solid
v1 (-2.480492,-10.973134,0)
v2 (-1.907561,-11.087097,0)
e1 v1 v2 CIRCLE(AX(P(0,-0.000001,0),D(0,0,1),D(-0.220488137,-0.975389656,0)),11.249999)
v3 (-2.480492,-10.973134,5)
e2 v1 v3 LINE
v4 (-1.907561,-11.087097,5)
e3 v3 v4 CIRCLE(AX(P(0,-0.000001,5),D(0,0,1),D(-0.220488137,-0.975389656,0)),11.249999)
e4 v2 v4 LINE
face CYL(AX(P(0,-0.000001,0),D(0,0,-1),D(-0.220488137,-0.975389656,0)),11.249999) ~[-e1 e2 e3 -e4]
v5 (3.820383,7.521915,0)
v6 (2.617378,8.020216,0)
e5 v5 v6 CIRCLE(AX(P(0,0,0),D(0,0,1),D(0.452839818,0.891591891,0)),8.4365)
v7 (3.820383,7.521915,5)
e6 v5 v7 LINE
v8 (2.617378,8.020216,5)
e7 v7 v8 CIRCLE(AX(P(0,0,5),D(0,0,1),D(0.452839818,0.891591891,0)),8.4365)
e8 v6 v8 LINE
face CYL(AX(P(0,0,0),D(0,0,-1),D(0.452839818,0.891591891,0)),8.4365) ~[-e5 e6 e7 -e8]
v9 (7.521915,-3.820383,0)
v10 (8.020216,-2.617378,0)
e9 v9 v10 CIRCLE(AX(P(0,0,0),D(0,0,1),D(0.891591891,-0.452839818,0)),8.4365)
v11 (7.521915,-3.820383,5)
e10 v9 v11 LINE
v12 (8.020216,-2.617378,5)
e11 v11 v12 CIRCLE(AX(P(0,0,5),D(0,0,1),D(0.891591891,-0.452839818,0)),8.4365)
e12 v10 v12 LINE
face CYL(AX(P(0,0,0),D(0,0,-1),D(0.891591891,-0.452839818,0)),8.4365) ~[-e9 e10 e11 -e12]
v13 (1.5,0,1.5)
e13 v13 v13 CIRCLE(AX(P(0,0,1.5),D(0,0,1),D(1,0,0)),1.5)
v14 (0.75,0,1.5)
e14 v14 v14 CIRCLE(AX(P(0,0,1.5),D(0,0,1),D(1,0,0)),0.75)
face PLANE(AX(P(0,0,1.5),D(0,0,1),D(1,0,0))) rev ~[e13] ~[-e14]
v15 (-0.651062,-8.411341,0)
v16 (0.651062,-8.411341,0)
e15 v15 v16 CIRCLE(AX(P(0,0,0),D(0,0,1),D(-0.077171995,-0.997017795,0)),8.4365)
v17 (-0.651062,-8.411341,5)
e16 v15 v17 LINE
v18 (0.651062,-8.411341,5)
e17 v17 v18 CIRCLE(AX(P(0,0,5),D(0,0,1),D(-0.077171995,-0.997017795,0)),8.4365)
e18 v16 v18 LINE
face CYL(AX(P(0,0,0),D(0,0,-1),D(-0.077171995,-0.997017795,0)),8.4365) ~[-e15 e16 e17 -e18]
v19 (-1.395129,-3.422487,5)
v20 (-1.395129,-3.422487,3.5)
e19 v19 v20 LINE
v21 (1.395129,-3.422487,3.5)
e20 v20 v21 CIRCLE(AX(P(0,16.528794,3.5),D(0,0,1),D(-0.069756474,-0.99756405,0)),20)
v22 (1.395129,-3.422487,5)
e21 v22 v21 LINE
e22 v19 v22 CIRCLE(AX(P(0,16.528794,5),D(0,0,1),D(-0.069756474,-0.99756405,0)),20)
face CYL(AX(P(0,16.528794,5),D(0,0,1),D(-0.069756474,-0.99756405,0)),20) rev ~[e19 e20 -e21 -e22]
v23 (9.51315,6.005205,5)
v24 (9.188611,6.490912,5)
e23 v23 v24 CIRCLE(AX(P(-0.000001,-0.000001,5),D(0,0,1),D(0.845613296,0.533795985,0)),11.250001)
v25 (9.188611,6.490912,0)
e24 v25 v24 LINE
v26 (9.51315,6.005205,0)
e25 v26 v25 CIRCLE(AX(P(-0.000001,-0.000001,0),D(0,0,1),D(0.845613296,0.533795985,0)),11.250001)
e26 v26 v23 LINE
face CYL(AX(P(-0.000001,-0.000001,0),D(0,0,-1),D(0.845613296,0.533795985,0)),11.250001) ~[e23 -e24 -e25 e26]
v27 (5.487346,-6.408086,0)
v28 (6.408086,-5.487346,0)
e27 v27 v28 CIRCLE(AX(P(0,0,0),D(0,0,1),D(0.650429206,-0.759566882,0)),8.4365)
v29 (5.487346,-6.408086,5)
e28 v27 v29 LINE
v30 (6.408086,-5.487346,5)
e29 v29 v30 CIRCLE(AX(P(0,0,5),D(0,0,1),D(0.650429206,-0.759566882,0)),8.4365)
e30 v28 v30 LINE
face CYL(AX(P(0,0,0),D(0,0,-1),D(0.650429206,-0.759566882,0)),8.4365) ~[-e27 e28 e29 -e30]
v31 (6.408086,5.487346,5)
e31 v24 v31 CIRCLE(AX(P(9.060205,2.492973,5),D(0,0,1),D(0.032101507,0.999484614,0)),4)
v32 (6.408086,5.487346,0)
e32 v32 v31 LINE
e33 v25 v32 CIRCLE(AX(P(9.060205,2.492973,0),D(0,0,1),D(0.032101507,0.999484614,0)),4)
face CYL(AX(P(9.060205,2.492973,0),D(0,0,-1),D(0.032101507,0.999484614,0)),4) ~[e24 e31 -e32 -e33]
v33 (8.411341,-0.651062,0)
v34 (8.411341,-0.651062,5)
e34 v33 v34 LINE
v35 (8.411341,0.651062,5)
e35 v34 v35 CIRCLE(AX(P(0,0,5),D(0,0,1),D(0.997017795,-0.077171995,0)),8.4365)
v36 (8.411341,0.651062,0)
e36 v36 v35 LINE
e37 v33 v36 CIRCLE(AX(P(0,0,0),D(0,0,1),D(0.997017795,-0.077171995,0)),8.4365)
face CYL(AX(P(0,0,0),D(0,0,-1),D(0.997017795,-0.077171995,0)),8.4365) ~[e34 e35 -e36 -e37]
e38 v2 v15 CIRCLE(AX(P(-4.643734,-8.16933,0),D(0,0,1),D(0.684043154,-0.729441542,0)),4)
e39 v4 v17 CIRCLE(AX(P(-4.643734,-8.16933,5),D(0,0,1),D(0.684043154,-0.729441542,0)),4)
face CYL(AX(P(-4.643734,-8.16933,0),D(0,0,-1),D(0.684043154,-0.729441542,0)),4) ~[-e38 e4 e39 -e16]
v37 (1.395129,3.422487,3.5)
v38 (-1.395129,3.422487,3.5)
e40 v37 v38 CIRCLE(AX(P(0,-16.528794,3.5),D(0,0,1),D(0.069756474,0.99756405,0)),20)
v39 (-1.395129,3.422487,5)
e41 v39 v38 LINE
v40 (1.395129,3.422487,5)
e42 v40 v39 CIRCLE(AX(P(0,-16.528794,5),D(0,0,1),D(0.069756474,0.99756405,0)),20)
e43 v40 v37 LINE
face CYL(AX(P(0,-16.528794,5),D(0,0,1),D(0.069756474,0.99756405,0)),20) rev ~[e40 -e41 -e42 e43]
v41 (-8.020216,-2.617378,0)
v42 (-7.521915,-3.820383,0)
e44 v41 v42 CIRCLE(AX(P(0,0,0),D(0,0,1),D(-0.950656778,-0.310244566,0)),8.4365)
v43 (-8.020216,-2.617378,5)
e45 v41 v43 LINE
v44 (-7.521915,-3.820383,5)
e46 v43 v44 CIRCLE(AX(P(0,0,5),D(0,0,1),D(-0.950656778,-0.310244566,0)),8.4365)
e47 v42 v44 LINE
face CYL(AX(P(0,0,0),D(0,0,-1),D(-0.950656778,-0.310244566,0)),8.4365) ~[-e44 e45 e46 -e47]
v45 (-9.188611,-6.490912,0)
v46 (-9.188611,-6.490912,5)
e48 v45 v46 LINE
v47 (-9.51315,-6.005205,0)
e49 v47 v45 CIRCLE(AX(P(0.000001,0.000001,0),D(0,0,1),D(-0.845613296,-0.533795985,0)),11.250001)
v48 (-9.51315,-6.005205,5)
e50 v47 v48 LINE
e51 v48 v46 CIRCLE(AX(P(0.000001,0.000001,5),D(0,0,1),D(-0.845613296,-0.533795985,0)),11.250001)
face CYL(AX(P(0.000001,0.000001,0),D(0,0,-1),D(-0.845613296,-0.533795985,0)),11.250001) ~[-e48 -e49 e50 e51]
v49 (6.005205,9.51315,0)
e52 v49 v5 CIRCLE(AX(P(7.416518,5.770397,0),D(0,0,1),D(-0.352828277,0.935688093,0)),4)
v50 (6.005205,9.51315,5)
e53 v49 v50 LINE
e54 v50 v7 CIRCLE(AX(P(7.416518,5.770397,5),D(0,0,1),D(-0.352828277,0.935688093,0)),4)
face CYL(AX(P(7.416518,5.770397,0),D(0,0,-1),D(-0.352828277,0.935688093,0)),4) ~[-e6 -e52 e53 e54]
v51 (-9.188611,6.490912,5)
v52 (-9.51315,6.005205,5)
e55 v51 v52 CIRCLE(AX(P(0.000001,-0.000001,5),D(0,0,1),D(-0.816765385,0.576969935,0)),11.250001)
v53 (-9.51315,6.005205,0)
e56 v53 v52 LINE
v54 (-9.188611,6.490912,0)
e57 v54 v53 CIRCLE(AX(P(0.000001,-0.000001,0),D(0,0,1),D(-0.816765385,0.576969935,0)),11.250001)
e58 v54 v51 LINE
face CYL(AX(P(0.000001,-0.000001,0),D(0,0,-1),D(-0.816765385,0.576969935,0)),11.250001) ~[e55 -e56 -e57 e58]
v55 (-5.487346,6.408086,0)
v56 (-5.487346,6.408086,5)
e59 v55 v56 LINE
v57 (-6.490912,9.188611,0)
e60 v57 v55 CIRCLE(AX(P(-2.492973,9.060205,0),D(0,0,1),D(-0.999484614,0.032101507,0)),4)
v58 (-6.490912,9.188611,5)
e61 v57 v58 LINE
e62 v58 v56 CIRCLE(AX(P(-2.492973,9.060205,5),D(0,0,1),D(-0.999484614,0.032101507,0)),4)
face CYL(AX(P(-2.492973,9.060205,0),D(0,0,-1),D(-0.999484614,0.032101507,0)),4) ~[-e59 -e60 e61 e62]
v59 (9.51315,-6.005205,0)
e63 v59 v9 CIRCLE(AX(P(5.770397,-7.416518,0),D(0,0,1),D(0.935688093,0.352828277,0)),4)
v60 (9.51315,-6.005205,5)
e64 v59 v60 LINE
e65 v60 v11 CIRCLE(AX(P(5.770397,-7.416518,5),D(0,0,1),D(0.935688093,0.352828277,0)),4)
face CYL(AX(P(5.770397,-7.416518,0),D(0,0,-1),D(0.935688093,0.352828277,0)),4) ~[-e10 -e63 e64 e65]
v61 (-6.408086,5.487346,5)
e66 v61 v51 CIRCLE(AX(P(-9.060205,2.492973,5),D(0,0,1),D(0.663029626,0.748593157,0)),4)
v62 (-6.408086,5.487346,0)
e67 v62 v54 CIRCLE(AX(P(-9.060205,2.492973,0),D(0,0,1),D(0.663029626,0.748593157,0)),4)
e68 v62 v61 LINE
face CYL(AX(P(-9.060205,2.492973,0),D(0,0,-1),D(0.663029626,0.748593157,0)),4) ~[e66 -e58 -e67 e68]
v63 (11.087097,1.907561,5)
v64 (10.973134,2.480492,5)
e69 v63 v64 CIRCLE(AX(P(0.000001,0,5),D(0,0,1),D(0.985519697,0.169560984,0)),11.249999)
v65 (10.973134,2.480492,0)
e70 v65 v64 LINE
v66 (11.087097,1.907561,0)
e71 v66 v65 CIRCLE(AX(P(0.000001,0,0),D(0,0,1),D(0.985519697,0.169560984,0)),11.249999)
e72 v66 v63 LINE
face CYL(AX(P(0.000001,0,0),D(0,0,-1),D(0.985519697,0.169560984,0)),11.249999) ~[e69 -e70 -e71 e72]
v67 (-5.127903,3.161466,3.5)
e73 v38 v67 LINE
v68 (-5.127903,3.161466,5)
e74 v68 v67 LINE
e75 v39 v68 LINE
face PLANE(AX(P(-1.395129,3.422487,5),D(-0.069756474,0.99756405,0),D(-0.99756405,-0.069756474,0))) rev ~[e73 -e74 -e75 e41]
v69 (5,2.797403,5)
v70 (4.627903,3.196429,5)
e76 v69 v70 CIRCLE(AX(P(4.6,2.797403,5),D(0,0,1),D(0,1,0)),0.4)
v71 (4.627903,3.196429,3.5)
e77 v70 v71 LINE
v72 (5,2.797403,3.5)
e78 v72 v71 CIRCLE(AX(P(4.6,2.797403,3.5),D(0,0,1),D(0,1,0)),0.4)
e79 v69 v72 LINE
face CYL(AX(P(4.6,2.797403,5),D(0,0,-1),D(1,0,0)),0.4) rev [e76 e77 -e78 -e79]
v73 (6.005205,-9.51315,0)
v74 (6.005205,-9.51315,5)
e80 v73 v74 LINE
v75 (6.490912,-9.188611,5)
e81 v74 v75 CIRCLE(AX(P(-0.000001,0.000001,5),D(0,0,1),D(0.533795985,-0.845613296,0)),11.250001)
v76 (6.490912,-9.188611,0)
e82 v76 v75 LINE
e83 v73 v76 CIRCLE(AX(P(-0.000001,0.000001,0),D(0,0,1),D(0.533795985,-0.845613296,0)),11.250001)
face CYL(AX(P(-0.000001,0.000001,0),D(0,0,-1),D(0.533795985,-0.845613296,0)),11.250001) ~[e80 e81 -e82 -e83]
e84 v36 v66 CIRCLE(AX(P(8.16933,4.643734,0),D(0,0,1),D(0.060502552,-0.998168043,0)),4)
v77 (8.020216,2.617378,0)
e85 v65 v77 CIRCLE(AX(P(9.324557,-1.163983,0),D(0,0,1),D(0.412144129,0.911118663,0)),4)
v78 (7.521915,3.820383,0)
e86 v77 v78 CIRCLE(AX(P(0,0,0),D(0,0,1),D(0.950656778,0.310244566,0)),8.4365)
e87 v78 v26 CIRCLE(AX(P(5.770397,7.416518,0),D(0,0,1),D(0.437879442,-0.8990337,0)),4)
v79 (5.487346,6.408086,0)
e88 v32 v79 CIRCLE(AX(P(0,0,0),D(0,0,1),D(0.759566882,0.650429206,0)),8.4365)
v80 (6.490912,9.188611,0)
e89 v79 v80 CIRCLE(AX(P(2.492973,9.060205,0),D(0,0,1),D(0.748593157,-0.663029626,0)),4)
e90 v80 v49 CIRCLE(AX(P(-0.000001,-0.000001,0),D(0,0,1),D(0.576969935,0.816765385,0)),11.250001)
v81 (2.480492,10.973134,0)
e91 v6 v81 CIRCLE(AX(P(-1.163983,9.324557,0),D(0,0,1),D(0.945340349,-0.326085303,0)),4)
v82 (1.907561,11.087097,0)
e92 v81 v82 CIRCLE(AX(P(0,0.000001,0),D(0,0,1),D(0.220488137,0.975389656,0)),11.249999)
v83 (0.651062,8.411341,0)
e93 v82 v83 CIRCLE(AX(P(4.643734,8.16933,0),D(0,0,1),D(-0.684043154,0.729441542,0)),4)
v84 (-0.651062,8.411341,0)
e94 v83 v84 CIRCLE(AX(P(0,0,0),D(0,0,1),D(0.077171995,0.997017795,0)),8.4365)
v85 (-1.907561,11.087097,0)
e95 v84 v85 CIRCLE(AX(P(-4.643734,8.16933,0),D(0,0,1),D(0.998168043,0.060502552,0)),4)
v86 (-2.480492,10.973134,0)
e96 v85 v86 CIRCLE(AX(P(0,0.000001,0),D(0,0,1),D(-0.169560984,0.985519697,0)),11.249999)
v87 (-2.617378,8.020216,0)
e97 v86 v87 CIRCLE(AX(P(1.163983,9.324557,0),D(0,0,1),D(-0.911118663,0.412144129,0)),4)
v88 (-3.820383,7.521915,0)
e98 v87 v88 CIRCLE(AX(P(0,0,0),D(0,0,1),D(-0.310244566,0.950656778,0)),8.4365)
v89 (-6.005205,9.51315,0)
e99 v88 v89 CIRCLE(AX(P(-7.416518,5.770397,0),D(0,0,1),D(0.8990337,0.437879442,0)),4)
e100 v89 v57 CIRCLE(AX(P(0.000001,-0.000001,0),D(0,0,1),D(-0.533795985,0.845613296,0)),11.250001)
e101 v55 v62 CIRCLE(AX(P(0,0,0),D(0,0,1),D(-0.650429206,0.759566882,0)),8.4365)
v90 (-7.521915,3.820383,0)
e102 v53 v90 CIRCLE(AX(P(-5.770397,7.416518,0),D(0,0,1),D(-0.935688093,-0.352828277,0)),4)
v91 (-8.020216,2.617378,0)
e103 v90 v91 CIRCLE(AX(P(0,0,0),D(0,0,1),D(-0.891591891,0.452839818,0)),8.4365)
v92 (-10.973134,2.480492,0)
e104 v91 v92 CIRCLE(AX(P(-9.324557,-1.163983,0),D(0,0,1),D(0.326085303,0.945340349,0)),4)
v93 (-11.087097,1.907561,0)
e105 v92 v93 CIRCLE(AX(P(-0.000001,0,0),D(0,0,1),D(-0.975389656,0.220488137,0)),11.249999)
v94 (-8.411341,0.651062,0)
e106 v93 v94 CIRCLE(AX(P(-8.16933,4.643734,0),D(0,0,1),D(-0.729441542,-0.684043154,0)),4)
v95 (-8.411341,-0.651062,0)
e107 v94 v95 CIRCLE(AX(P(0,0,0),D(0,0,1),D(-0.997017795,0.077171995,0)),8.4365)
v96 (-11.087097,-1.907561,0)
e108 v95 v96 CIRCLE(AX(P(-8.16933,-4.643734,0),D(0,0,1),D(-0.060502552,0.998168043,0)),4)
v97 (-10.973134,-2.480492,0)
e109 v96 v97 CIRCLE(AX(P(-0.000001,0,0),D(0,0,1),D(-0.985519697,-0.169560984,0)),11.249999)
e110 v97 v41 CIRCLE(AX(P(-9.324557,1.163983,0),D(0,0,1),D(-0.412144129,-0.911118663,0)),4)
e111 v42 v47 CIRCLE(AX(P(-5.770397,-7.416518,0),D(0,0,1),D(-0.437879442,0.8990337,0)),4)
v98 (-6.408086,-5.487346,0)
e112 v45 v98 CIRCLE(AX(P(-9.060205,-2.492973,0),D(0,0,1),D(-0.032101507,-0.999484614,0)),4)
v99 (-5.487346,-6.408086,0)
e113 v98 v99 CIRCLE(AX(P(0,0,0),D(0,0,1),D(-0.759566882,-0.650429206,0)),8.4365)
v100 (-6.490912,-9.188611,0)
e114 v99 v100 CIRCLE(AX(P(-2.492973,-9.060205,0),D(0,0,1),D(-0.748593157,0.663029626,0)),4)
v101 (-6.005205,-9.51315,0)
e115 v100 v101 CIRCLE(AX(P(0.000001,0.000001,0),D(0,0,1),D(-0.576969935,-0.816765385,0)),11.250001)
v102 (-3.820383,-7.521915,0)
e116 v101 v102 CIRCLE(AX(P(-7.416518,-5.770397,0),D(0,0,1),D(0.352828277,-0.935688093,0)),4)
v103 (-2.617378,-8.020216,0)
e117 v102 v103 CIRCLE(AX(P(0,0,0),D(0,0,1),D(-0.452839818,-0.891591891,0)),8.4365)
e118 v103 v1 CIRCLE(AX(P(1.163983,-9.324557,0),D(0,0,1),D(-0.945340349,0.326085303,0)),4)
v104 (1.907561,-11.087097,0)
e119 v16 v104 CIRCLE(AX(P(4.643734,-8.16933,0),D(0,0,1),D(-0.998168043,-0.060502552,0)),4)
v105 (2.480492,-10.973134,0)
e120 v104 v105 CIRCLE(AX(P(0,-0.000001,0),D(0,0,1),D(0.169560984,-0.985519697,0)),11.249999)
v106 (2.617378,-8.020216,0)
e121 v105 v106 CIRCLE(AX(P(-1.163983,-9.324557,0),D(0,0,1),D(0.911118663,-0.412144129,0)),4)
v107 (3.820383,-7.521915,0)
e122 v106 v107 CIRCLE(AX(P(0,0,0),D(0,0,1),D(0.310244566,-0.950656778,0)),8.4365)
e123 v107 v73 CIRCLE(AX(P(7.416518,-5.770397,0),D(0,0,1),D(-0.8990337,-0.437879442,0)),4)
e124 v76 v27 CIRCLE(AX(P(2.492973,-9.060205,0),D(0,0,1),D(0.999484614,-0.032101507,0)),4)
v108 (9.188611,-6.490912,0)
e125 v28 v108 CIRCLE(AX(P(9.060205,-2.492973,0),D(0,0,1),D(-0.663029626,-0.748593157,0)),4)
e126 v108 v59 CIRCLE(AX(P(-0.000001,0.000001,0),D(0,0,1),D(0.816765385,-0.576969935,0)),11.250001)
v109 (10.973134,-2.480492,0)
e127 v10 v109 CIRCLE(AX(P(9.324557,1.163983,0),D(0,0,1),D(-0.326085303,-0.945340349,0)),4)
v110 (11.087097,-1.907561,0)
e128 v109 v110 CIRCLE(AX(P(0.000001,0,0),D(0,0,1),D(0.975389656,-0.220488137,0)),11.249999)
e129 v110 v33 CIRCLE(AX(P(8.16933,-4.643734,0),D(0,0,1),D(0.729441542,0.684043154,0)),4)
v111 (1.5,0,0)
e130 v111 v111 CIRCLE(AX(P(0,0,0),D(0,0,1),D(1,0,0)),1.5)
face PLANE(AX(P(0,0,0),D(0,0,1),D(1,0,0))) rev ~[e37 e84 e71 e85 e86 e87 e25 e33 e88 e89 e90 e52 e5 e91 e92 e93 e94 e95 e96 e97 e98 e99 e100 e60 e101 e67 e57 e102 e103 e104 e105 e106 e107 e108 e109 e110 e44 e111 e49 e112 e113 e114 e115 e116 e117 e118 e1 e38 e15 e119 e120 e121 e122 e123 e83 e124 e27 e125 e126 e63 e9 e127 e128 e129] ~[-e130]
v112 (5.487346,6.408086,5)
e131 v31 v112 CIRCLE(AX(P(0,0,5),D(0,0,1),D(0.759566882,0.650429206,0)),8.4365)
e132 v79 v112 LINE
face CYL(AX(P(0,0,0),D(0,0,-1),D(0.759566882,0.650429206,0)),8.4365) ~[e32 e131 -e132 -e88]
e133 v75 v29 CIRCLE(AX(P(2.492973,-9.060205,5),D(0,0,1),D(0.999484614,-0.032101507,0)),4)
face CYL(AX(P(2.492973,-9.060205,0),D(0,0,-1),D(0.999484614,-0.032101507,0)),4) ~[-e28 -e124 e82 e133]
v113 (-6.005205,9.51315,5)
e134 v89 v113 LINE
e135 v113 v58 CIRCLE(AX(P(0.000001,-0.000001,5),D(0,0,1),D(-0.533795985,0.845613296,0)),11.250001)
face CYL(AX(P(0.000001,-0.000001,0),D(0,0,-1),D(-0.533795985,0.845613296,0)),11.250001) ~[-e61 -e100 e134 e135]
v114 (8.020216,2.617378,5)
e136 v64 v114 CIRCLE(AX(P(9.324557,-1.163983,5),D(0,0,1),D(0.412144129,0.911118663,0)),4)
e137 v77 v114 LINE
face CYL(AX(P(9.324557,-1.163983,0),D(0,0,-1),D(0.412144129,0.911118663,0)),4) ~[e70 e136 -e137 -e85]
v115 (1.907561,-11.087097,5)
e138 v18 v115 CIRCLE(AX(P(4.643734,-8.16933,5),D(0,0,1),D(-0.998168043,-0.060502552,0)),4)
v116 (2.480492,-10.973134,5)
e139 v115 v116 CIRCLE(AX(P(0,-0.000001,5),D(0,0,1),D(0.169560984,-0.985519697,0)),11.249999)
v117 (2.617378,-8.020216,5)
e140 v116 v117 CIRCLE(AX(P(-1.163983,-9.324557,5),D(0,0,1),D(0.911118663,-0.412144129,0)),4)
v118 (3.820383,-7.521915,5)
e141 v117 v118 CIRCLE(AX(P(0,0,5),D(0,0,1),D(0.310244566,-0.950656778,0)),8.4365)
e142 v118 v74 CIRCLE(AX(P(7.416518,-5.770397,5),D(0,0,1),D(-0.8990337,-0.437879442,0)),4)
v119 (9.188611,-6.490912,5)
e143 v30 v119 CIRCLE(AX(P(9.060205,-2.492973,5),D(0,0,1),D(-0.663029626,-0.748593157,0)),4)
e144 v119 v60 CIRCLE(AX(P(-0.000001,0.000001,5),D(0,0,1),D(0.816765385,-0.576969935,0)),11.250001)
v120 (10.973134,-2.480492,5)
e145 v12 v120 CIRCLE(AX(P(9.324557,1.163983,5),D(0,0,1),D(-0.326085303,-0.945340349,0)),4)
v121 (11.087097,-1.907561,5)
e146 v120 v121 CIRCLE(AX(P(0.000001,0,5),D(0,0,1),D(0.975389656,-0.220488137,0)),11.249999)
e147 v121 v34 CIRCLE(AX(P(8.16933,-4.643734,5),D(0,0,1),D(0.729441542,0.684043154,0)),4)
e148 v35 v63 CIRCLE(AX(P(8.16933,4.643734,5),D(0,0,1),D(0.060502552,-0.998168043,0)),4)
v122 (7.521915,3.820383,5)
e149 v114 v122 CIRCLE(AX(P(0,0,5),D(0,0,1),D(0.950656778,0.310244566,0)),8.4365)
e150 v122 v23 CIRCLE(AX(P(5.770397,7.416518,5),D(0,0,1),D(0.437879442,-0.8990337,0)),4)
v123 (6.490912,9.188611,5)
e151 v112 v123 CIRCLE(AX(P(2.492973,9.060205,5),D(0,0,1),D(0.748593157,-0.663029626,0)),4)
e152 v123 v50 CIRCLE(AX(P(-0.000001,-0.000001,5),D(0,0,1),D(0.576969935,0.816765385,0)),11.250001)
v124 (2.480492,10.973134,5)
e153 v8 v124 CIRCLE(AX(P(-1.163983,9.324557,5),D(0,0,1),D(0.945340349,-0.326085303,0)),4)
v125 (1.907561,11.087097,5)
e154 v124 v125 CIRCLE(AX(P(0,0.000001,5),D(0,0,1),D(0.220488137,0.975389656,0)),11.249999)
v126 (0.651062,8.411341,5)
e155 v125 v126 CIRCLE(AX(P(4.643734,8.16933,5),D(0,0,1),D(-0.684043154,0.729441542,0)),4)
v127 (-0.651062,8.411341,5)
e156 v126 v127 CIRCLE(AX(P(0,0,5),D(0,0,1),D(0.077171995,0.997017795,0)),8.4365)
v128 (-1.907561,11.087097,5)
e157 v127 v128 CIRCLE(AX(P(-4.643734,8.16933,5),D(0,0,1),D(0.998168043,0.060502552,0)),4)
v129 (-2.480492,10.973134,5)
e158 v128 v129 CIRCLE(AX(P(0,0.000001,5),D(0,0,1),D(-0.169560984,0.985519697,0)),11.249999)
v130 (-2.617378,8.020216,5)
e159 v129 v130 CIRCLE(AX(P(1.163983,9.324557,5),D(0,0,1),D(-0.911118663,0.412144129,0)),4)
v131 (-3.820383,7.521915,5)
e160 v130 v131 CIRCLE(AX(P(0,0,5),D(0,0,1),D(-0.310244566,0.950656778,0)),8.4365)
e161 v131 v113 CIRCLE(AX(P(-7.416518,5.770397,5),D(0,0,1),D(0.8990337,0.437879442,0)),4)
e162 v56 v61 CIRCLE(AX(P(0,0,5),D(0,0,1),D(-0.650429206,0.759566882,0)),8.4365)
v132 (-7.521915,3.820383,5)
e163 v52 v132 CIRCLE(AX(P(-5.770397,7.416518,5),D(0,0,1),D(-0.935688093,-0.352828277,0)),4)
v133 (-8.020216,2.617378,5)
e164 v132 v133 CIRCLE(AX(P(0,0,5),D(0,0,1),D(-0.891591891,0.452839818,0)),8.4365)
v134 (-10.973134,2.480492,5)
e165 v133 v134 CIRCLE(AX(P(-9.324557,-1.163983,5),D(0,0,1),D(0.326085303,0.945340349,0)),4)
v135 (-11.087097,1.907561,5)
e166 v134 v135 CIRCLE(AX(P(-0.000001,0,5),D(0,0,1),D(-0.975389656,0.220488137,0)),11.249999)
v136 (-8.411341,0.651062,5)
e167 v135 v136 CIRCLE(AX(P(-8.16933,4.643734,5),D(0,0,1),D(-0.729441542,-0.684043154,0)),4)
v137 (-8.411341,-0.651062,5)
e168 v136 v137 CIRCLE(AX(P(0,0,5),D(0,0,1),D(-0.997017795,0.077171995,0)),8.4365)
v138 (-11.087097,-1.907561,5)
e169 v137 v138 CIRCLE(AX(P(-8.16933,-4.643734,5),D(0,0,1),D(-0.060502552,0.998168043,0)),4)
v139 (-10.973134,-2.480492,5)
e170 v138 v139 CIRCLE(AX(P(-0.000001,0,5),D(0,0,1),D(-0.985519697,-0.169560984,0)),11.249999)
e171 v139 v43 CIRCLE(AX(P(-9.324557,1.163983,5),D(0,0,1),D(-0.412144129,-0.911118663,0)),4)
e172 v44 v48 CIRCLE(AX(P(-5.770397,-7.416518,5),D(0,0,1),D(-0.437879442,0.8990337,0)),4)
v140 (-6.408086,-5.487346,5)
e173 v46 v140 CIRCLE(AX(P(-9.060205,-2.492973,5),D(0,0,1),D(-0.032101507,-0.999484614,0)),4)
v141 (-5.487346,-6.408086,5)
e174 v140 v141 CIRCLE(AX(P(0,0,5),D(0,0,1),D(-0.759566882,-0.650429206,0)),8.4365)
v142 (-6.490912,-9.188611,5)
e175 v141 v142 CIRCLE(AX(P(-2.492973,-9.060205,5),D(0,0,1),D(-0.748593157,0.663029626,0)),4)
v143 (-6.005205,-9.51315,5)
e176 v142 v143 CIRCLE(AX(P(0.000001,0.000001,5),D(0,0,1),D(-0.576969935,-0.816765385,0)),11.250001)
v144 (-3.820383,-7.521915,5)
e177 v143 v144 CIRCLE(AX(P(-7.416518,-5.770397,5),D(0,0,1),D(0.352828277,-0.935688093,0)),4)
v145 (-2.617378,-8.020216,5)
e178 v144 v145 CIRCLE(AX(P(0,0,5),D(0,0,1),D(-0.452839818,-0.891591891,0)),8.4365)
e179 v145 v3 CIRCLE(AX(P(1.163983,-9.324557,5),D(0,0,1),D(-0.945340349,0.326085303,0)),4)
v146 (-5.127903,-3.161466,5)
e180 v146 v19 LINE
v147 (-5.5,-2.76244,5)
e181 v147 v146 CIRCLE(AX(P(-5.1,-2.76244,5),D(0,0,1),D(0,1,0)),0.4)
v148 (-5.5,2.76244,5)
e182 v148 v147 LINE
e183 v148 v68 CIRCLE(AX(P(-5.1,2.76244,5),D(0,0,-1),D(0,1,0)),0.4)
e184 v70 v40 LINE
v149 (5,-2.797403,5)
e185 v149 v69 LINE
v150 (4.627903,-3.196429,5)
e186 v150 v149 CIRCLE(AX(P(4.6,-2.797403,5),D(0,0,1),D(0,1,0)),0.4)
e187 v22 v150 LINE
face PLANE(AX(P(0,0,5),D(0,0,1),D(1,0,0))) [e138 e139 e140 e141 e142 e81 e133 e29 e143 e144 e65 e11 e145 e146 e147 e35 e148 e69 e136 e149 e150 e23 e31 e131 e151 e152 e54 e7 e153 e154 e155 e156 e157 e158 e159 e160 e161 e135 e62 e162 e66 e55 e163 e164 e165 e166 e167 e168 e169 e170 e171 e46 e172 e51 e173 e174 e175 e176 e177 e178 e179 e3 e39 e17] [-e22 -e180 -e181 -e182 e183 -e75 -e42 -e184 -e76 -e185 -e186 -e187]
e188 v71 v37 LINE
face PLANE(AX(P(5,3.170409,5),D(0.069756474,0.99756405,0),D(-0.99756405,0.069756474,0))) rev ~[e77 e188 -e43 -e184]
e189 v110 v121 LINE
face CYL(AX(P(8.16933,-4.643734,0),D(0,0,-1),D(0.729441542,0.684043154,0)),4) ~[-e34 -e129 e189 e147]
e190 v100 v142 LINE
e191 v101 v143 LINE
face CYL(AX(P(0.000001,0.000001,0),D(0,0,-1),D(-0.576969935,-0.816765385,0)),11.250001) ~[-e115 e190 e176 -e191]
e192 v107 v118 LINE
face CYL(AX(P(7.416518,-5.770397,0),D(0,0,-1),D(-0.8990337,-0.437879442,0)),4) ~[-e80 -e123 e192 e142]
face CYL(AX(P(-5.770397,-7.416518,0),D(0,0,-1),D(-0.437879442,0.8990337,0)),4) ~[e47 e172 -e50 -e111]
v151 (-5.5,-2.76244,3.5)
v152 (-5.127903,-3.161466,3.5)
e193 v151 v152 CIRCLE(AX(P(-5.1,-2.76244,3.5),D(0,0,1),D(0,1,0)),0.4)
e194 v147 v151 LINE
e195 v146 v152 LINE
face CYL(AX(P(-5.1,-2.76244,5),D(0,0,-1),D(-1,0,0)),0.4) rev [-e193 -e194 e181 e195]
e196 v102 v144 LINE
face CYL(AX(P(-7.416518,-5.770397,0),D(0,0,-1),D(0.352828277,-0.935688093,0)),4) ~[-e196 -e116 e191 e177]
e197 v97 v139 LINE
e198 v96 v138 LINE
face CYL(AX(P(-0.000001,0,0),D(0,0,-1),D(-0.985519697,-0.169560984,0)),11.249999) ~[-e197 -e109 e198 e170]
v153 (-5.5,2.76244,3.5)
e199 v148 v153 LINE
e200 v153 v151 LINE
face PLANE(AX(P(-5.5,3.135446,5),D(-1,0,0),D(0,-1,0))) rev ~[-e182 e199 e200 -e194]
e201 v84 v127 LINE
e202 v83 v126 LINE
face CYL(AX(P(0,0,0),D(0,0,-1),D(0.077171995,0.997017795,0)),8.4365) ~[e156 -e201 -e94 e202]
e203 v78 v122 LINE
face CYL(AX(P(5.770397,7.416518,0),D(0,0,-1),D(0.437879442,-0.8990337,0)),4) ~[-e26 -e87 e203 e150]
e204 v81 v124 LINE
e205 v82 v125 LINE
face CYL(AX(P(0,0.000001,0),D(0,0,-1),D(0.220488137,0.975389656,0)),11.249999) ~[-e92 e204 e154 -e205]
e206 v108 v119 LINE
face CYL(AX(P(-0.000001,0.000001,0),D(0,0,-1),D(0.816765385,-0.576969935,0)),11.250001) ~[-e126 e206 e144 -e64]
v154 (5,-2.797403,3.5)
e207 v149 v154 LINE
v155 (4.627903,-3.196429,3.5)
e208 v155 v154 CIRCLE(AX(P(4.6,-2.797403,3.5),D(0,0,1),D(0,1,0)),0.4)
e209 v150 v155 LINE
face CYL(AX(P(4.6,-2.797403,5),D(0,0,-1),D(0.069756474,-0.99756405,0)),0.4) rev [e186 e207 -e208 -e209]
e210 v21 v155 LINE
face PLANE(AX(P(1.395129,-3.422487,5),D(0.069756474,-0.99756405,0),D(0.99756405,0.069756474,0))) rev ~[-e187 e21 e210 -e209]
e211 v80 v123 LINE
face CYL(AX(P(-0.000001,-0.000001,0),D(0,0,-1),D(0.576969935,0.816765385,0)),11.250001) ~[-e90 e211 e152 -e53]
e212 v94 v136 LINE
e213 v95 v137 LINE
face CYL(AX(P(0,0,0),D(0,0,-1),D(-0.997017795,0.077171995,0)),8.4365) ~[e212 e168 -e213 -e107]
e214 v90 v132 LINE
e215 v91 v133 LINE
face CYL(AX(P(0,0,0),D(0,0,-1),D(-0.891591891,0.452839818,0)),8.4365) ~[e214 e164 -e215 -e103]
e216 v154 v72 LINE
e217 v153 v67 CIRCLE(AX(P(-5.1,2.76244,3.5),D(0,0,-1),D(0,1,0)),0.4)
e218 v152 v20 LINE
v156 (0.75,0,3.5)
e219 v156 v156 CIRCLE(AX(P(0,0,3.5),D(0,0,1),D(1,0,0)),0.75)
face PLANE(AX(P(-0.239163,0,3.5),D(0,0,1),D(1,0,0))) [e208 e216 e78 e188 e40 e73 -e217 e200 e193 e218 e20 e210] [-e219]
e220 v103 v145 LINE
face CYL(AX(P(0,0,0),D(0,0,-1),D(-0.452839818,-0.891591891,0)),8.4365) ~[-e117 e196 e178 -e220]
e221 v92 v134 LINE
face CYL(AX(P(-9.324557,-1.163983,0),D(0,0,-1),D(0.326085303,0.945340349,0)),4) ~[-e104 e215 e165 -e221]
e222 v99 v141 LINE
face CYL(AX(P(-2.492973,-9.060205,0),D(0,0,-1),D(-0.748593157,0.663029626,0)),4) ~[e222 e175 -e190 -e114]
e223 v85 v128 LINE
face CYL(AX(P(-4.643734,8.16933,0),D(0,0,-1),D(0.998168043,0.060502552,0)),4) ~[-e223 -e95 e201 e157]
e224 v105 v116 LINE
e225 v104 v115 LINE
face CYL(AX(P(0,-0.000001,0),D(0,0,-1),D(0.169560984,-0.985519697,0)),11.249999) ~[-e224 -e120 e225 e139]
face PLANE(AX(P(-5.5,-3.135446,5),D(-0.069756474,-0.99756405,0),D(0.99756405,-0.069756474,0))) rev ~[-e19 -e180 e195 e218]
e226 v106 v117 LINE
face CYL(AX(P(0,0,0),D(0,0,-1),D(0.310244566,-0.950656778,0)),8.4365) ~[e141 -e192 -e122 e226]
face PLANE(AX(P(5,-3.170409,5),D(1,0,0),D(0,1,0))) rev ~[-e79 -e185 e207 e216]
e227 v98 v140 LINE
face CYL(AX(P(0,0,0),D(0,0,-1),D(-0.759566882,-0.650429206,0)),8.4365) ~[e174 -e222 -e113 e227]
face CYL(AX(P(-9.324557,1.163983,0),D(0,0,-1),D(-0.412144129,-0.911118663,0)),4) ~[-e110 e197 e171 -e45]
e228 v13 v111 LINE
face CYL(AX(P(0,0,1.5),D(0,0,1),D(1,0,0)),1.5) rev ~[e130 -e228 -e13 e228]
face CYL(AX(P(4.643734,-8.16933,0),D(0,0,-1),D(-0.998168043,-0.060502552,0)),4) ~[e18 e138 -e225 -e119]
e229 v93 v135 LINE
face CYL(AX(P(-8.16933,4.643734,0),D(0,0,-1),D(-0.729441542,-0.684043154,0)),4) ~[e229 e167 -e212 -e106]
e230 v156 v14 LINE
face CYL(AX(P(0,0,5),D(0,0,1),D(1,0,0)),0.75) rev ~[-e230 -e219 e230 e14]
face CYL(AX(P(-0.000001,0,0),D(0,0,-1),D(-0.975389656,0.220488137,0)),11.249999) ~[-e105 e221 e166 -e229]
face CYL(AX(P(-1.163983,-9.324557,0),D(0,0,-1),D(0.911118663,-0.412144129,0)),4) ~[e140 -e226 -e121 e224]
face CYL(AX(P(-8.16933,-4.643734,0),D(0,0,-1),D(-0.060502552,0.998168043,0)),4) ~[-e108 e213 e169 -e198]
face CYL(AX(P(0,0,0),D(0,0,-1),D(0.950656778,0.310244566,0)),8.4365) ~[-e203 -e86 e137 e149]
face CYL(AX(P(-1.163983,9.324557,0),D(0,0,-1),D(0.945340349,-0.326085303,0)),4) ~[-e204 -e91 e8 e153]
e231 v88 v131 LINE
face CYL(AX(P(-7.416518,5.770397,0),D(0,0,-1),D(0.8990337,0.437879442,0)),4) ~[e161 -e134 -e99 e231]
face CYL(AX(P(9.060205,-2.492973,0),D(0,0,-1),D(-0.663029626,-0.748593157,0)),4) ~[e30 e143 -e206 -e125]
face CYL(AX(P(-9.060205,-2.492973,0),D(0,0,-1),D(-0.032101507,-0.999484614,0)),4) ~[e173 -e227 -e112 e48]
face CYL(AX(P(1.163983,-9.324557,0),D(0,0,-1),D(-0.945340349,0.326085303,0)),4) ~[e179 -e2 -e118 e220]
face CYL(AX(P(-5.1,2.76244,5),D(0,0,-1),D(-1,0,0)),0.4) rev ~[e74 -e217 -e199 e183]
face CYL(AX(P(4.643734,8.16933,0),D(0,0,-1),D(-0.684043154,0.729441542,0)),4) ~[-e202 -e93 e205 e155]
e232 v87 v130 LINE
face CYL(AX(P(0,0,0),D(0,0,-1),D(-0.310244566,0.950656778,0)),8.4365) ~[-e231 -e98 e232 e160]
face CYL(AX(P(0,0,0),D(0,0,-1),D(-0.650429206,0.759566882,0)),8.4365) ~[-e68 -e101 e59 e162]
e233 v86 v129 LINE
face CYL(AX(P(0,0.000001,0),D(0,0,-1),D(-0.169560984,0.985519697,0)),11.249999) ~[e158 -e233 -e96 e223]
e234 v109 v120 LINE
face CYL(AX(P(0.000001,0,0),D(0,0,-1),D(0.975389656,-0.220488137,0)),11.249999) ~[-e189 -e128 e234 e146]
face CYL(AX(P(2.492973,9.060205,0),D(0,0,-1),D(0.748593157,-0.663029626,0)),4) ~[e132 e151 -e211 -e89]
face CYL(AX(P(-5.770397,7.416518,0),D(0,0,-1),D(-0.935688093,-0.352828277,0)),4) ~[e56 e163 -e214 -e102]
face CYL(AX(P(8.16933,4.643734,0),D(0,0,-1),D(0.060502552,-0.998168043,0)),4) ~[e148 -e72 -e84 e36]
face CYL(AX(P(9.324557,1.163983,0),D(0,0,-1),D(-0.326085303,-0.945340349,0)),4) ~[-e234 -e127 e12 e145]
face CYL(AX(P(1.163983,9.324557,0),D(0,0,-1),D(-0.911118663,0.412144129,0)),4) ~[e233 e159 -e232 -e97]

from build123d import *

# Parameters (mm, degrees)
SALIENTE_EXTRUIR1_DEPTH = 5
CORTAR_EXTRUIR1_REACH   = 18.457
CROQUIS4_R              = 0.75
CORTAR_EXTRUIR2_START   = -3.5
CROQUIS4_3_R            = 1.5
CROQUIS4_3_R_2          = 0.75
CORTAR_EXTRUIR2_DEPTH   = 1.5
CROQUIS4_4_R            = 1.5
CROQUIS4_4_R_2          = 0.75
CORTAR_EXTRUIR3_DEPTH   = 1.5
REDONDEO2_R             = 0.4


with BuildPart() as part:
    # Croquis2 → Saliente-Extruir1 (new body)
    with BuildSketch(Plane.XY):
        with BuildLine():
            ThreePointArc((8.411340626, 0.651061533), (9.869549365, 1.023063112), (11.087096586, 1.907561087))
            ThreePointArc((11.087096586, 1.907561087), (11.033834405, 2.194766123), (10.973133635, 2.480491531))
            ThreePointArc((10.973133635, 2.480491531), (9.509783957, 2.831725957), (8.020215908, 2.617378277))
            ThreePointArc((8.020215908, 2.617378277), (7.794309676, 3.228508777), (7.521914983, 3.820383127))
            ThreePointArc((7.521914983, 3.820383127), (8.72676535, 4.722100097), (9.513149586, 6.005204821))
            ThreePointArc((9.513149586, 6.005204821), (9.354033138, 6.250165121), (9.188610559, 6.4909118))
            ThreePointArc((9.188610559, 6.4909118), (7.702240148, 6.255410419), (6.408086021, 5.487345971))
            ThreePointArc((6.408086021, 5.487345971), (5.965506359, 5.965506359), (5.487345971, 6.408086021))
            ThreePointArc((5.487345971, 6.408086021), (6.255410419, 7.702240148), (6.4909118, 9.188610559))
            ThreePointArc((6.4909118, 9.188610559), (6.250165121, 9.354033138), (6.005204821, 9.513149586))
            ThreePointArc((6.005204821, 9.513149586), (4.722100097, 8.72676535), (3.820383127, 7.521914983))
            ThreePointArc((3.820383127, 7.521914983), (3.228508777, 7.794309676), (2.617378277, 8.020215908))
            ThreePointArc((2.617378277, 8.020215908), (2.831725957, 9.509783957), (2.480491531, 10.973133635))
            ThreePointArc((2.480491531, 10.973133635), (2.194766123, 11.033834405), (1.907561087, 11.087096586))
            ThreePointArc((1.907561087, 11.087096586), (1.023063112, 9.869549365), (0.651061533, 8.411340626))
            ThreePointArc((0.651061533, 8.411340626), (0, 8.4365), (-0.651061533, 8.411340626))
            ThreePointArc((-0.651061533, 8.411340626), (-1.023063112, 9.869549365), (-1.907561087, 11.087096586))
            ThreePointArc((-1.907561087, 11.087096586), (-2.194766123, 11.033834405), (-2.480491531, 10.973133635))
            ThreePointArc((-2.480491531, 10.973133635), (-2.831725957, 9.509783957), (-2.617378277, 8.020215908))
            ThreePointArc((-2.617378277, 8.020215908), (-3.228508777, 7.794309676), (-3.820383127, 7.521914983))
            ThreePointArc((-3.820383127, 7.521914983), (-4.722100097, 8.72676535), (-6.005204821, 9.513149586))
            ThreePointArc((-6.005204821, 9.513149586), (-6.250165121, 9.354033138), (-6.4909118, 9.188610559))
            ThreePointArc((-6.4909118, 9.188610559), (-6.255410419, 7.702240148), (-5.487345971, 6.408086021))
            ThreePointArc((-5.487345971, 6.408086021), (-5.965506359, 5.965506359), (-6.408086021, 5.487345971))
            ThreePointArc((-6.408086021, 5.487345971), (-7.702240148, 6.255410419), (-9.188610559, 6.4909118))
            ThreePointArc((-9.188610559, 6.4909118), (-9.354033138, 6.250165121), (-9.513149586, 6.005204821))
            ThreePointArc((-9.513149586, 6.005204821), (-8.72676535, 4.722100097), (-7.521914983, 3.820383127))
            ThreePointArc((-7.521914983, 3.820383127), (-7.794309676, 3.228508777), (-8.020215908, 2.617378277))
            ThreePointArc((-8.020215908, 2.617378277), (-9.509783957, 2.831725957), (-10.973133635, 2.480491531))
            ThreePointArc((-10.973133635, 2.480491531), (-11.033834405, 2.194766123), (-11.087096586, 1.907561087))
            ThreePointArc((-11.087096586, 1.907561087), (-9.869549365, 1.023063112), (-8.411340626, 0.651061533))
            ThreePointArc((-8.411340626, 0.651061533), (-8.4365, 0), (-8.411340626, -0.651061533))
            ThreePointArc((-8.411340626, -0.651061533), (-9.869549365, -1.023063112), (-11.087096586, -1.907561087))
            ThreePointArc((-11.087096586, -1.907561087), (-11.033834405, -2.194766123), (-10.973133635, -2.480491531))
            ThreePointArc((-10.973133635, -2.480491531), (-9.509783957, -2.831725957), (-8.020215908, -2.617378277))
            ThreePointArc((-8.020215908, -2.617378277), (-7.794309676, -3.228508777), (-7.521914983, -3.820383127))
            ThreePointArc((-7.521914983, -3.820383127), (-8.72676535, -4.722100097), (-9.513149586, -6.005204821))
            ThreePointArc((-9.513149586, -6.005204821), (-9.354033138, -6.250165121), (-9.188610559, -6.4909118))
            ThreePointArc((-9.188610559, -6.4909118), (-7.702240148, -6.255410419), (-6.408086021, -5.487345971))
            ThreePointArc((-6.408086021, -5.487345971), (-5.965506359, -5.965506359), (-5.487345971, -6.408086021))
            ThreePointArc((-5.487345971, -6.408086021), (-6.255410419, -7.702240148), (-6.4909118, -9.188610559))
            ThreePointArc((-6.4909118, -9.188610559), (-6.250165121, -9.354033138), (-6.005204821, -9.513149586))
            ThreePointArc((-6.005204821, -9.513149586), (-4.722100097, -8.72676535), (-3.820383127, -7.521914983))
            ThreePointArc((-3.820383127, -7.521914983), (-3.228508777, -7.794309676), (-2.617378277, -8.020215908))
            ThreePointArc((-2.617378277, -8.020215908), (-2.831725957, -9.509783957), (-2.480491531, -10.973133635))
            ThreePointArc((-2.480491531, -10.973133635), (-2.194766123, -11.033834405), (-1.907561087, -11.087096586))
            ThreePointArc((-1.907561087, -11.087096586), (-1.023063112, -9.869549365), (-0.651061533, -8.411340626))
            ThreePointArc((-0.651061533, -8.411340626), (0, -8.4365), (0.651061533, -8.411340626))
            ThreePointArc((0.651061533, -8.411340626), (1.023063112, -9.869549365), (1.907561087, -11.087096586))
            ThreePointArc((1.907561087, -11.087096586), (2.194766123, -11.033834405), (2.480491531, -10.973133635))
            ThreePointArc((2.480491531, -10.973133635), (2.831725957, -9.509783957), (2.617378277, -8.020215908))
            ThreePointArc((2.617378277, -8.020215908), (3.228508777, -7.794309676), (3.820383127, -7.521914983))
            ThreePointArc((3.820383127, -7.521914983), (4.722100097, -8.72676535), (6.005204821, -9.513149586))
            ThreePointArc((6.005204821, -9.513149586), (6.250165121, -9.354033138), (6.4909118, -9.188610559))
            ThreePointArc((6.4909118, -9.188610559), (6.255410419, -7.702240148), (5.487345971, -6.408086021))
            ThreePointArc((5.487345971, -6.408086021), (5.965506359, -5.965506359), (6.408086021, -5.487345971))
            ThreePointArc((6.408086021, -5.487345971), (7.702240148, -6.255410419), (9.188610559, -6.4909118))
            ThreePointArc((9.188610559, -6.4909118), (9.354033138, -6.250165121), (9.513149586, -6.005204821))
            ThreePointArc((9.513149586, -6.005204821), (8.72676535, -4.722100097), (7.521914983, -3.820383127))
            ThreePointArc((7.521914983, -3.820383127), (7.794309676, -3.228508777), (8.020215908, -2.617378277))
            ThreePointArc((8.020215908, -2.617378277), (9.509783957, -2.831725957), (10.973133635, -2.480491531))
            ThreePointArc((10.973133635, -2.480491531), (11.033834405, -2.194766123), (11.087096586, -1.907561087))
            ThreePointArc((11.087096586, -1.907561087), (9.869549365, -1.023063112), (8.411340626, -0.651061533))
            ThreePointArc((8.411340626, -0.651061533), (8.4365, 0), (8.411340626, 0.651061533))
        make_face()
    extrude(amount=SALIENTE_EXTRUIR1_DEPTH)

    # Croquis4 → Cortar-Extruir1 (cut, up to next)
    with BuildSketch(Plane.XY.offset(5), mode=Mode.PRIVATE) as cortar_extruir1_sk1:
        Circle(CROQUIS4_R)
    cortar_extruir1_tool1 = extrude(cortar_extruir1_sk1.sketch, amount=-CORTAR_EXTRUIR1_REACH, mode=Mode.PRIVATE) & part.part
    add(cortar_extruir1_tool1.solids().sort_by_distance((0, 0, 5))[0], mode=Mode.SUBTRACT)

    # Croquis4<3> → Cortar-Extruir2 (cut)
    with BuildSketch(Plane.XY.offset(5).offset(CORTAR_EXTRUIR2_START)):
        Circle(CROQUIS4_3_R)
        Circle(CROQUIS4_3_R_2, mode=Mode.SUBTRACT)
    extrude(amount=-CORTAR_EXTRUIR2_DEPTH, mode=Mode.SUBTRACT)

    # Croquis4<4> → Cortar-Extruir3 (cut)
    # profile 1 of 2: a face of its own
    with BuildSketch(Plane.XY.offset(5)):
        with BuildLine():
            Line((-5.5, 3.135446053), (-5.5, -3.135446053))
            Line((-5.5, -3.135446053), (-1.395129475, -3.422486562))
            ThreePointArc((-1.395129475, -3.422486562), (0, -3.471205557), (1.395129475, -3.422486562))
            Line((1.395129475, -3.422486562), (5, -3.170409459))
            Line((5, -3.170409459), (5, 3.170409459))
            Line((5, 3.170409459), (1.395129475, 3.422486562))
            ThreePointArc((1.395129475, 3.422486562), (0, 3.471205557), (-1.395129475, 3.422486562))
            Line((-1.395129475, 3.422486562), (-5.5, 3.135446053))
        make_face()
        Circle(CROQUIS4_4_R, mode=Mode.SUBTRACT)
    # profile 2 of 2: a face of its own
    with BuildSketch(Plane.XY.offset(5)):
        Circle(CROQUIS4_4_R)
        Circle(CROQUIS4_4_R_2, mode=Mode.SUBTRACT)
    extrude(amount=-CORTAR_EXTRUIR3_DEPTH, mode=Mode.SUBTRACT)

    # Redondeo2
    redondeo2_edges = [part.edges().sort_by_distance(p)[0] for p in [
        (5, 3.170409459, 4.25),
        (5, -3.170409459, 4.25),
        (-5.5, -3.135446053, 4.25),
        (-5.5, 3.135446053, 4.25),
    ]]
    fillet(redondeo2_edges, radius=REDONDEO2_R)


solid = part.part
